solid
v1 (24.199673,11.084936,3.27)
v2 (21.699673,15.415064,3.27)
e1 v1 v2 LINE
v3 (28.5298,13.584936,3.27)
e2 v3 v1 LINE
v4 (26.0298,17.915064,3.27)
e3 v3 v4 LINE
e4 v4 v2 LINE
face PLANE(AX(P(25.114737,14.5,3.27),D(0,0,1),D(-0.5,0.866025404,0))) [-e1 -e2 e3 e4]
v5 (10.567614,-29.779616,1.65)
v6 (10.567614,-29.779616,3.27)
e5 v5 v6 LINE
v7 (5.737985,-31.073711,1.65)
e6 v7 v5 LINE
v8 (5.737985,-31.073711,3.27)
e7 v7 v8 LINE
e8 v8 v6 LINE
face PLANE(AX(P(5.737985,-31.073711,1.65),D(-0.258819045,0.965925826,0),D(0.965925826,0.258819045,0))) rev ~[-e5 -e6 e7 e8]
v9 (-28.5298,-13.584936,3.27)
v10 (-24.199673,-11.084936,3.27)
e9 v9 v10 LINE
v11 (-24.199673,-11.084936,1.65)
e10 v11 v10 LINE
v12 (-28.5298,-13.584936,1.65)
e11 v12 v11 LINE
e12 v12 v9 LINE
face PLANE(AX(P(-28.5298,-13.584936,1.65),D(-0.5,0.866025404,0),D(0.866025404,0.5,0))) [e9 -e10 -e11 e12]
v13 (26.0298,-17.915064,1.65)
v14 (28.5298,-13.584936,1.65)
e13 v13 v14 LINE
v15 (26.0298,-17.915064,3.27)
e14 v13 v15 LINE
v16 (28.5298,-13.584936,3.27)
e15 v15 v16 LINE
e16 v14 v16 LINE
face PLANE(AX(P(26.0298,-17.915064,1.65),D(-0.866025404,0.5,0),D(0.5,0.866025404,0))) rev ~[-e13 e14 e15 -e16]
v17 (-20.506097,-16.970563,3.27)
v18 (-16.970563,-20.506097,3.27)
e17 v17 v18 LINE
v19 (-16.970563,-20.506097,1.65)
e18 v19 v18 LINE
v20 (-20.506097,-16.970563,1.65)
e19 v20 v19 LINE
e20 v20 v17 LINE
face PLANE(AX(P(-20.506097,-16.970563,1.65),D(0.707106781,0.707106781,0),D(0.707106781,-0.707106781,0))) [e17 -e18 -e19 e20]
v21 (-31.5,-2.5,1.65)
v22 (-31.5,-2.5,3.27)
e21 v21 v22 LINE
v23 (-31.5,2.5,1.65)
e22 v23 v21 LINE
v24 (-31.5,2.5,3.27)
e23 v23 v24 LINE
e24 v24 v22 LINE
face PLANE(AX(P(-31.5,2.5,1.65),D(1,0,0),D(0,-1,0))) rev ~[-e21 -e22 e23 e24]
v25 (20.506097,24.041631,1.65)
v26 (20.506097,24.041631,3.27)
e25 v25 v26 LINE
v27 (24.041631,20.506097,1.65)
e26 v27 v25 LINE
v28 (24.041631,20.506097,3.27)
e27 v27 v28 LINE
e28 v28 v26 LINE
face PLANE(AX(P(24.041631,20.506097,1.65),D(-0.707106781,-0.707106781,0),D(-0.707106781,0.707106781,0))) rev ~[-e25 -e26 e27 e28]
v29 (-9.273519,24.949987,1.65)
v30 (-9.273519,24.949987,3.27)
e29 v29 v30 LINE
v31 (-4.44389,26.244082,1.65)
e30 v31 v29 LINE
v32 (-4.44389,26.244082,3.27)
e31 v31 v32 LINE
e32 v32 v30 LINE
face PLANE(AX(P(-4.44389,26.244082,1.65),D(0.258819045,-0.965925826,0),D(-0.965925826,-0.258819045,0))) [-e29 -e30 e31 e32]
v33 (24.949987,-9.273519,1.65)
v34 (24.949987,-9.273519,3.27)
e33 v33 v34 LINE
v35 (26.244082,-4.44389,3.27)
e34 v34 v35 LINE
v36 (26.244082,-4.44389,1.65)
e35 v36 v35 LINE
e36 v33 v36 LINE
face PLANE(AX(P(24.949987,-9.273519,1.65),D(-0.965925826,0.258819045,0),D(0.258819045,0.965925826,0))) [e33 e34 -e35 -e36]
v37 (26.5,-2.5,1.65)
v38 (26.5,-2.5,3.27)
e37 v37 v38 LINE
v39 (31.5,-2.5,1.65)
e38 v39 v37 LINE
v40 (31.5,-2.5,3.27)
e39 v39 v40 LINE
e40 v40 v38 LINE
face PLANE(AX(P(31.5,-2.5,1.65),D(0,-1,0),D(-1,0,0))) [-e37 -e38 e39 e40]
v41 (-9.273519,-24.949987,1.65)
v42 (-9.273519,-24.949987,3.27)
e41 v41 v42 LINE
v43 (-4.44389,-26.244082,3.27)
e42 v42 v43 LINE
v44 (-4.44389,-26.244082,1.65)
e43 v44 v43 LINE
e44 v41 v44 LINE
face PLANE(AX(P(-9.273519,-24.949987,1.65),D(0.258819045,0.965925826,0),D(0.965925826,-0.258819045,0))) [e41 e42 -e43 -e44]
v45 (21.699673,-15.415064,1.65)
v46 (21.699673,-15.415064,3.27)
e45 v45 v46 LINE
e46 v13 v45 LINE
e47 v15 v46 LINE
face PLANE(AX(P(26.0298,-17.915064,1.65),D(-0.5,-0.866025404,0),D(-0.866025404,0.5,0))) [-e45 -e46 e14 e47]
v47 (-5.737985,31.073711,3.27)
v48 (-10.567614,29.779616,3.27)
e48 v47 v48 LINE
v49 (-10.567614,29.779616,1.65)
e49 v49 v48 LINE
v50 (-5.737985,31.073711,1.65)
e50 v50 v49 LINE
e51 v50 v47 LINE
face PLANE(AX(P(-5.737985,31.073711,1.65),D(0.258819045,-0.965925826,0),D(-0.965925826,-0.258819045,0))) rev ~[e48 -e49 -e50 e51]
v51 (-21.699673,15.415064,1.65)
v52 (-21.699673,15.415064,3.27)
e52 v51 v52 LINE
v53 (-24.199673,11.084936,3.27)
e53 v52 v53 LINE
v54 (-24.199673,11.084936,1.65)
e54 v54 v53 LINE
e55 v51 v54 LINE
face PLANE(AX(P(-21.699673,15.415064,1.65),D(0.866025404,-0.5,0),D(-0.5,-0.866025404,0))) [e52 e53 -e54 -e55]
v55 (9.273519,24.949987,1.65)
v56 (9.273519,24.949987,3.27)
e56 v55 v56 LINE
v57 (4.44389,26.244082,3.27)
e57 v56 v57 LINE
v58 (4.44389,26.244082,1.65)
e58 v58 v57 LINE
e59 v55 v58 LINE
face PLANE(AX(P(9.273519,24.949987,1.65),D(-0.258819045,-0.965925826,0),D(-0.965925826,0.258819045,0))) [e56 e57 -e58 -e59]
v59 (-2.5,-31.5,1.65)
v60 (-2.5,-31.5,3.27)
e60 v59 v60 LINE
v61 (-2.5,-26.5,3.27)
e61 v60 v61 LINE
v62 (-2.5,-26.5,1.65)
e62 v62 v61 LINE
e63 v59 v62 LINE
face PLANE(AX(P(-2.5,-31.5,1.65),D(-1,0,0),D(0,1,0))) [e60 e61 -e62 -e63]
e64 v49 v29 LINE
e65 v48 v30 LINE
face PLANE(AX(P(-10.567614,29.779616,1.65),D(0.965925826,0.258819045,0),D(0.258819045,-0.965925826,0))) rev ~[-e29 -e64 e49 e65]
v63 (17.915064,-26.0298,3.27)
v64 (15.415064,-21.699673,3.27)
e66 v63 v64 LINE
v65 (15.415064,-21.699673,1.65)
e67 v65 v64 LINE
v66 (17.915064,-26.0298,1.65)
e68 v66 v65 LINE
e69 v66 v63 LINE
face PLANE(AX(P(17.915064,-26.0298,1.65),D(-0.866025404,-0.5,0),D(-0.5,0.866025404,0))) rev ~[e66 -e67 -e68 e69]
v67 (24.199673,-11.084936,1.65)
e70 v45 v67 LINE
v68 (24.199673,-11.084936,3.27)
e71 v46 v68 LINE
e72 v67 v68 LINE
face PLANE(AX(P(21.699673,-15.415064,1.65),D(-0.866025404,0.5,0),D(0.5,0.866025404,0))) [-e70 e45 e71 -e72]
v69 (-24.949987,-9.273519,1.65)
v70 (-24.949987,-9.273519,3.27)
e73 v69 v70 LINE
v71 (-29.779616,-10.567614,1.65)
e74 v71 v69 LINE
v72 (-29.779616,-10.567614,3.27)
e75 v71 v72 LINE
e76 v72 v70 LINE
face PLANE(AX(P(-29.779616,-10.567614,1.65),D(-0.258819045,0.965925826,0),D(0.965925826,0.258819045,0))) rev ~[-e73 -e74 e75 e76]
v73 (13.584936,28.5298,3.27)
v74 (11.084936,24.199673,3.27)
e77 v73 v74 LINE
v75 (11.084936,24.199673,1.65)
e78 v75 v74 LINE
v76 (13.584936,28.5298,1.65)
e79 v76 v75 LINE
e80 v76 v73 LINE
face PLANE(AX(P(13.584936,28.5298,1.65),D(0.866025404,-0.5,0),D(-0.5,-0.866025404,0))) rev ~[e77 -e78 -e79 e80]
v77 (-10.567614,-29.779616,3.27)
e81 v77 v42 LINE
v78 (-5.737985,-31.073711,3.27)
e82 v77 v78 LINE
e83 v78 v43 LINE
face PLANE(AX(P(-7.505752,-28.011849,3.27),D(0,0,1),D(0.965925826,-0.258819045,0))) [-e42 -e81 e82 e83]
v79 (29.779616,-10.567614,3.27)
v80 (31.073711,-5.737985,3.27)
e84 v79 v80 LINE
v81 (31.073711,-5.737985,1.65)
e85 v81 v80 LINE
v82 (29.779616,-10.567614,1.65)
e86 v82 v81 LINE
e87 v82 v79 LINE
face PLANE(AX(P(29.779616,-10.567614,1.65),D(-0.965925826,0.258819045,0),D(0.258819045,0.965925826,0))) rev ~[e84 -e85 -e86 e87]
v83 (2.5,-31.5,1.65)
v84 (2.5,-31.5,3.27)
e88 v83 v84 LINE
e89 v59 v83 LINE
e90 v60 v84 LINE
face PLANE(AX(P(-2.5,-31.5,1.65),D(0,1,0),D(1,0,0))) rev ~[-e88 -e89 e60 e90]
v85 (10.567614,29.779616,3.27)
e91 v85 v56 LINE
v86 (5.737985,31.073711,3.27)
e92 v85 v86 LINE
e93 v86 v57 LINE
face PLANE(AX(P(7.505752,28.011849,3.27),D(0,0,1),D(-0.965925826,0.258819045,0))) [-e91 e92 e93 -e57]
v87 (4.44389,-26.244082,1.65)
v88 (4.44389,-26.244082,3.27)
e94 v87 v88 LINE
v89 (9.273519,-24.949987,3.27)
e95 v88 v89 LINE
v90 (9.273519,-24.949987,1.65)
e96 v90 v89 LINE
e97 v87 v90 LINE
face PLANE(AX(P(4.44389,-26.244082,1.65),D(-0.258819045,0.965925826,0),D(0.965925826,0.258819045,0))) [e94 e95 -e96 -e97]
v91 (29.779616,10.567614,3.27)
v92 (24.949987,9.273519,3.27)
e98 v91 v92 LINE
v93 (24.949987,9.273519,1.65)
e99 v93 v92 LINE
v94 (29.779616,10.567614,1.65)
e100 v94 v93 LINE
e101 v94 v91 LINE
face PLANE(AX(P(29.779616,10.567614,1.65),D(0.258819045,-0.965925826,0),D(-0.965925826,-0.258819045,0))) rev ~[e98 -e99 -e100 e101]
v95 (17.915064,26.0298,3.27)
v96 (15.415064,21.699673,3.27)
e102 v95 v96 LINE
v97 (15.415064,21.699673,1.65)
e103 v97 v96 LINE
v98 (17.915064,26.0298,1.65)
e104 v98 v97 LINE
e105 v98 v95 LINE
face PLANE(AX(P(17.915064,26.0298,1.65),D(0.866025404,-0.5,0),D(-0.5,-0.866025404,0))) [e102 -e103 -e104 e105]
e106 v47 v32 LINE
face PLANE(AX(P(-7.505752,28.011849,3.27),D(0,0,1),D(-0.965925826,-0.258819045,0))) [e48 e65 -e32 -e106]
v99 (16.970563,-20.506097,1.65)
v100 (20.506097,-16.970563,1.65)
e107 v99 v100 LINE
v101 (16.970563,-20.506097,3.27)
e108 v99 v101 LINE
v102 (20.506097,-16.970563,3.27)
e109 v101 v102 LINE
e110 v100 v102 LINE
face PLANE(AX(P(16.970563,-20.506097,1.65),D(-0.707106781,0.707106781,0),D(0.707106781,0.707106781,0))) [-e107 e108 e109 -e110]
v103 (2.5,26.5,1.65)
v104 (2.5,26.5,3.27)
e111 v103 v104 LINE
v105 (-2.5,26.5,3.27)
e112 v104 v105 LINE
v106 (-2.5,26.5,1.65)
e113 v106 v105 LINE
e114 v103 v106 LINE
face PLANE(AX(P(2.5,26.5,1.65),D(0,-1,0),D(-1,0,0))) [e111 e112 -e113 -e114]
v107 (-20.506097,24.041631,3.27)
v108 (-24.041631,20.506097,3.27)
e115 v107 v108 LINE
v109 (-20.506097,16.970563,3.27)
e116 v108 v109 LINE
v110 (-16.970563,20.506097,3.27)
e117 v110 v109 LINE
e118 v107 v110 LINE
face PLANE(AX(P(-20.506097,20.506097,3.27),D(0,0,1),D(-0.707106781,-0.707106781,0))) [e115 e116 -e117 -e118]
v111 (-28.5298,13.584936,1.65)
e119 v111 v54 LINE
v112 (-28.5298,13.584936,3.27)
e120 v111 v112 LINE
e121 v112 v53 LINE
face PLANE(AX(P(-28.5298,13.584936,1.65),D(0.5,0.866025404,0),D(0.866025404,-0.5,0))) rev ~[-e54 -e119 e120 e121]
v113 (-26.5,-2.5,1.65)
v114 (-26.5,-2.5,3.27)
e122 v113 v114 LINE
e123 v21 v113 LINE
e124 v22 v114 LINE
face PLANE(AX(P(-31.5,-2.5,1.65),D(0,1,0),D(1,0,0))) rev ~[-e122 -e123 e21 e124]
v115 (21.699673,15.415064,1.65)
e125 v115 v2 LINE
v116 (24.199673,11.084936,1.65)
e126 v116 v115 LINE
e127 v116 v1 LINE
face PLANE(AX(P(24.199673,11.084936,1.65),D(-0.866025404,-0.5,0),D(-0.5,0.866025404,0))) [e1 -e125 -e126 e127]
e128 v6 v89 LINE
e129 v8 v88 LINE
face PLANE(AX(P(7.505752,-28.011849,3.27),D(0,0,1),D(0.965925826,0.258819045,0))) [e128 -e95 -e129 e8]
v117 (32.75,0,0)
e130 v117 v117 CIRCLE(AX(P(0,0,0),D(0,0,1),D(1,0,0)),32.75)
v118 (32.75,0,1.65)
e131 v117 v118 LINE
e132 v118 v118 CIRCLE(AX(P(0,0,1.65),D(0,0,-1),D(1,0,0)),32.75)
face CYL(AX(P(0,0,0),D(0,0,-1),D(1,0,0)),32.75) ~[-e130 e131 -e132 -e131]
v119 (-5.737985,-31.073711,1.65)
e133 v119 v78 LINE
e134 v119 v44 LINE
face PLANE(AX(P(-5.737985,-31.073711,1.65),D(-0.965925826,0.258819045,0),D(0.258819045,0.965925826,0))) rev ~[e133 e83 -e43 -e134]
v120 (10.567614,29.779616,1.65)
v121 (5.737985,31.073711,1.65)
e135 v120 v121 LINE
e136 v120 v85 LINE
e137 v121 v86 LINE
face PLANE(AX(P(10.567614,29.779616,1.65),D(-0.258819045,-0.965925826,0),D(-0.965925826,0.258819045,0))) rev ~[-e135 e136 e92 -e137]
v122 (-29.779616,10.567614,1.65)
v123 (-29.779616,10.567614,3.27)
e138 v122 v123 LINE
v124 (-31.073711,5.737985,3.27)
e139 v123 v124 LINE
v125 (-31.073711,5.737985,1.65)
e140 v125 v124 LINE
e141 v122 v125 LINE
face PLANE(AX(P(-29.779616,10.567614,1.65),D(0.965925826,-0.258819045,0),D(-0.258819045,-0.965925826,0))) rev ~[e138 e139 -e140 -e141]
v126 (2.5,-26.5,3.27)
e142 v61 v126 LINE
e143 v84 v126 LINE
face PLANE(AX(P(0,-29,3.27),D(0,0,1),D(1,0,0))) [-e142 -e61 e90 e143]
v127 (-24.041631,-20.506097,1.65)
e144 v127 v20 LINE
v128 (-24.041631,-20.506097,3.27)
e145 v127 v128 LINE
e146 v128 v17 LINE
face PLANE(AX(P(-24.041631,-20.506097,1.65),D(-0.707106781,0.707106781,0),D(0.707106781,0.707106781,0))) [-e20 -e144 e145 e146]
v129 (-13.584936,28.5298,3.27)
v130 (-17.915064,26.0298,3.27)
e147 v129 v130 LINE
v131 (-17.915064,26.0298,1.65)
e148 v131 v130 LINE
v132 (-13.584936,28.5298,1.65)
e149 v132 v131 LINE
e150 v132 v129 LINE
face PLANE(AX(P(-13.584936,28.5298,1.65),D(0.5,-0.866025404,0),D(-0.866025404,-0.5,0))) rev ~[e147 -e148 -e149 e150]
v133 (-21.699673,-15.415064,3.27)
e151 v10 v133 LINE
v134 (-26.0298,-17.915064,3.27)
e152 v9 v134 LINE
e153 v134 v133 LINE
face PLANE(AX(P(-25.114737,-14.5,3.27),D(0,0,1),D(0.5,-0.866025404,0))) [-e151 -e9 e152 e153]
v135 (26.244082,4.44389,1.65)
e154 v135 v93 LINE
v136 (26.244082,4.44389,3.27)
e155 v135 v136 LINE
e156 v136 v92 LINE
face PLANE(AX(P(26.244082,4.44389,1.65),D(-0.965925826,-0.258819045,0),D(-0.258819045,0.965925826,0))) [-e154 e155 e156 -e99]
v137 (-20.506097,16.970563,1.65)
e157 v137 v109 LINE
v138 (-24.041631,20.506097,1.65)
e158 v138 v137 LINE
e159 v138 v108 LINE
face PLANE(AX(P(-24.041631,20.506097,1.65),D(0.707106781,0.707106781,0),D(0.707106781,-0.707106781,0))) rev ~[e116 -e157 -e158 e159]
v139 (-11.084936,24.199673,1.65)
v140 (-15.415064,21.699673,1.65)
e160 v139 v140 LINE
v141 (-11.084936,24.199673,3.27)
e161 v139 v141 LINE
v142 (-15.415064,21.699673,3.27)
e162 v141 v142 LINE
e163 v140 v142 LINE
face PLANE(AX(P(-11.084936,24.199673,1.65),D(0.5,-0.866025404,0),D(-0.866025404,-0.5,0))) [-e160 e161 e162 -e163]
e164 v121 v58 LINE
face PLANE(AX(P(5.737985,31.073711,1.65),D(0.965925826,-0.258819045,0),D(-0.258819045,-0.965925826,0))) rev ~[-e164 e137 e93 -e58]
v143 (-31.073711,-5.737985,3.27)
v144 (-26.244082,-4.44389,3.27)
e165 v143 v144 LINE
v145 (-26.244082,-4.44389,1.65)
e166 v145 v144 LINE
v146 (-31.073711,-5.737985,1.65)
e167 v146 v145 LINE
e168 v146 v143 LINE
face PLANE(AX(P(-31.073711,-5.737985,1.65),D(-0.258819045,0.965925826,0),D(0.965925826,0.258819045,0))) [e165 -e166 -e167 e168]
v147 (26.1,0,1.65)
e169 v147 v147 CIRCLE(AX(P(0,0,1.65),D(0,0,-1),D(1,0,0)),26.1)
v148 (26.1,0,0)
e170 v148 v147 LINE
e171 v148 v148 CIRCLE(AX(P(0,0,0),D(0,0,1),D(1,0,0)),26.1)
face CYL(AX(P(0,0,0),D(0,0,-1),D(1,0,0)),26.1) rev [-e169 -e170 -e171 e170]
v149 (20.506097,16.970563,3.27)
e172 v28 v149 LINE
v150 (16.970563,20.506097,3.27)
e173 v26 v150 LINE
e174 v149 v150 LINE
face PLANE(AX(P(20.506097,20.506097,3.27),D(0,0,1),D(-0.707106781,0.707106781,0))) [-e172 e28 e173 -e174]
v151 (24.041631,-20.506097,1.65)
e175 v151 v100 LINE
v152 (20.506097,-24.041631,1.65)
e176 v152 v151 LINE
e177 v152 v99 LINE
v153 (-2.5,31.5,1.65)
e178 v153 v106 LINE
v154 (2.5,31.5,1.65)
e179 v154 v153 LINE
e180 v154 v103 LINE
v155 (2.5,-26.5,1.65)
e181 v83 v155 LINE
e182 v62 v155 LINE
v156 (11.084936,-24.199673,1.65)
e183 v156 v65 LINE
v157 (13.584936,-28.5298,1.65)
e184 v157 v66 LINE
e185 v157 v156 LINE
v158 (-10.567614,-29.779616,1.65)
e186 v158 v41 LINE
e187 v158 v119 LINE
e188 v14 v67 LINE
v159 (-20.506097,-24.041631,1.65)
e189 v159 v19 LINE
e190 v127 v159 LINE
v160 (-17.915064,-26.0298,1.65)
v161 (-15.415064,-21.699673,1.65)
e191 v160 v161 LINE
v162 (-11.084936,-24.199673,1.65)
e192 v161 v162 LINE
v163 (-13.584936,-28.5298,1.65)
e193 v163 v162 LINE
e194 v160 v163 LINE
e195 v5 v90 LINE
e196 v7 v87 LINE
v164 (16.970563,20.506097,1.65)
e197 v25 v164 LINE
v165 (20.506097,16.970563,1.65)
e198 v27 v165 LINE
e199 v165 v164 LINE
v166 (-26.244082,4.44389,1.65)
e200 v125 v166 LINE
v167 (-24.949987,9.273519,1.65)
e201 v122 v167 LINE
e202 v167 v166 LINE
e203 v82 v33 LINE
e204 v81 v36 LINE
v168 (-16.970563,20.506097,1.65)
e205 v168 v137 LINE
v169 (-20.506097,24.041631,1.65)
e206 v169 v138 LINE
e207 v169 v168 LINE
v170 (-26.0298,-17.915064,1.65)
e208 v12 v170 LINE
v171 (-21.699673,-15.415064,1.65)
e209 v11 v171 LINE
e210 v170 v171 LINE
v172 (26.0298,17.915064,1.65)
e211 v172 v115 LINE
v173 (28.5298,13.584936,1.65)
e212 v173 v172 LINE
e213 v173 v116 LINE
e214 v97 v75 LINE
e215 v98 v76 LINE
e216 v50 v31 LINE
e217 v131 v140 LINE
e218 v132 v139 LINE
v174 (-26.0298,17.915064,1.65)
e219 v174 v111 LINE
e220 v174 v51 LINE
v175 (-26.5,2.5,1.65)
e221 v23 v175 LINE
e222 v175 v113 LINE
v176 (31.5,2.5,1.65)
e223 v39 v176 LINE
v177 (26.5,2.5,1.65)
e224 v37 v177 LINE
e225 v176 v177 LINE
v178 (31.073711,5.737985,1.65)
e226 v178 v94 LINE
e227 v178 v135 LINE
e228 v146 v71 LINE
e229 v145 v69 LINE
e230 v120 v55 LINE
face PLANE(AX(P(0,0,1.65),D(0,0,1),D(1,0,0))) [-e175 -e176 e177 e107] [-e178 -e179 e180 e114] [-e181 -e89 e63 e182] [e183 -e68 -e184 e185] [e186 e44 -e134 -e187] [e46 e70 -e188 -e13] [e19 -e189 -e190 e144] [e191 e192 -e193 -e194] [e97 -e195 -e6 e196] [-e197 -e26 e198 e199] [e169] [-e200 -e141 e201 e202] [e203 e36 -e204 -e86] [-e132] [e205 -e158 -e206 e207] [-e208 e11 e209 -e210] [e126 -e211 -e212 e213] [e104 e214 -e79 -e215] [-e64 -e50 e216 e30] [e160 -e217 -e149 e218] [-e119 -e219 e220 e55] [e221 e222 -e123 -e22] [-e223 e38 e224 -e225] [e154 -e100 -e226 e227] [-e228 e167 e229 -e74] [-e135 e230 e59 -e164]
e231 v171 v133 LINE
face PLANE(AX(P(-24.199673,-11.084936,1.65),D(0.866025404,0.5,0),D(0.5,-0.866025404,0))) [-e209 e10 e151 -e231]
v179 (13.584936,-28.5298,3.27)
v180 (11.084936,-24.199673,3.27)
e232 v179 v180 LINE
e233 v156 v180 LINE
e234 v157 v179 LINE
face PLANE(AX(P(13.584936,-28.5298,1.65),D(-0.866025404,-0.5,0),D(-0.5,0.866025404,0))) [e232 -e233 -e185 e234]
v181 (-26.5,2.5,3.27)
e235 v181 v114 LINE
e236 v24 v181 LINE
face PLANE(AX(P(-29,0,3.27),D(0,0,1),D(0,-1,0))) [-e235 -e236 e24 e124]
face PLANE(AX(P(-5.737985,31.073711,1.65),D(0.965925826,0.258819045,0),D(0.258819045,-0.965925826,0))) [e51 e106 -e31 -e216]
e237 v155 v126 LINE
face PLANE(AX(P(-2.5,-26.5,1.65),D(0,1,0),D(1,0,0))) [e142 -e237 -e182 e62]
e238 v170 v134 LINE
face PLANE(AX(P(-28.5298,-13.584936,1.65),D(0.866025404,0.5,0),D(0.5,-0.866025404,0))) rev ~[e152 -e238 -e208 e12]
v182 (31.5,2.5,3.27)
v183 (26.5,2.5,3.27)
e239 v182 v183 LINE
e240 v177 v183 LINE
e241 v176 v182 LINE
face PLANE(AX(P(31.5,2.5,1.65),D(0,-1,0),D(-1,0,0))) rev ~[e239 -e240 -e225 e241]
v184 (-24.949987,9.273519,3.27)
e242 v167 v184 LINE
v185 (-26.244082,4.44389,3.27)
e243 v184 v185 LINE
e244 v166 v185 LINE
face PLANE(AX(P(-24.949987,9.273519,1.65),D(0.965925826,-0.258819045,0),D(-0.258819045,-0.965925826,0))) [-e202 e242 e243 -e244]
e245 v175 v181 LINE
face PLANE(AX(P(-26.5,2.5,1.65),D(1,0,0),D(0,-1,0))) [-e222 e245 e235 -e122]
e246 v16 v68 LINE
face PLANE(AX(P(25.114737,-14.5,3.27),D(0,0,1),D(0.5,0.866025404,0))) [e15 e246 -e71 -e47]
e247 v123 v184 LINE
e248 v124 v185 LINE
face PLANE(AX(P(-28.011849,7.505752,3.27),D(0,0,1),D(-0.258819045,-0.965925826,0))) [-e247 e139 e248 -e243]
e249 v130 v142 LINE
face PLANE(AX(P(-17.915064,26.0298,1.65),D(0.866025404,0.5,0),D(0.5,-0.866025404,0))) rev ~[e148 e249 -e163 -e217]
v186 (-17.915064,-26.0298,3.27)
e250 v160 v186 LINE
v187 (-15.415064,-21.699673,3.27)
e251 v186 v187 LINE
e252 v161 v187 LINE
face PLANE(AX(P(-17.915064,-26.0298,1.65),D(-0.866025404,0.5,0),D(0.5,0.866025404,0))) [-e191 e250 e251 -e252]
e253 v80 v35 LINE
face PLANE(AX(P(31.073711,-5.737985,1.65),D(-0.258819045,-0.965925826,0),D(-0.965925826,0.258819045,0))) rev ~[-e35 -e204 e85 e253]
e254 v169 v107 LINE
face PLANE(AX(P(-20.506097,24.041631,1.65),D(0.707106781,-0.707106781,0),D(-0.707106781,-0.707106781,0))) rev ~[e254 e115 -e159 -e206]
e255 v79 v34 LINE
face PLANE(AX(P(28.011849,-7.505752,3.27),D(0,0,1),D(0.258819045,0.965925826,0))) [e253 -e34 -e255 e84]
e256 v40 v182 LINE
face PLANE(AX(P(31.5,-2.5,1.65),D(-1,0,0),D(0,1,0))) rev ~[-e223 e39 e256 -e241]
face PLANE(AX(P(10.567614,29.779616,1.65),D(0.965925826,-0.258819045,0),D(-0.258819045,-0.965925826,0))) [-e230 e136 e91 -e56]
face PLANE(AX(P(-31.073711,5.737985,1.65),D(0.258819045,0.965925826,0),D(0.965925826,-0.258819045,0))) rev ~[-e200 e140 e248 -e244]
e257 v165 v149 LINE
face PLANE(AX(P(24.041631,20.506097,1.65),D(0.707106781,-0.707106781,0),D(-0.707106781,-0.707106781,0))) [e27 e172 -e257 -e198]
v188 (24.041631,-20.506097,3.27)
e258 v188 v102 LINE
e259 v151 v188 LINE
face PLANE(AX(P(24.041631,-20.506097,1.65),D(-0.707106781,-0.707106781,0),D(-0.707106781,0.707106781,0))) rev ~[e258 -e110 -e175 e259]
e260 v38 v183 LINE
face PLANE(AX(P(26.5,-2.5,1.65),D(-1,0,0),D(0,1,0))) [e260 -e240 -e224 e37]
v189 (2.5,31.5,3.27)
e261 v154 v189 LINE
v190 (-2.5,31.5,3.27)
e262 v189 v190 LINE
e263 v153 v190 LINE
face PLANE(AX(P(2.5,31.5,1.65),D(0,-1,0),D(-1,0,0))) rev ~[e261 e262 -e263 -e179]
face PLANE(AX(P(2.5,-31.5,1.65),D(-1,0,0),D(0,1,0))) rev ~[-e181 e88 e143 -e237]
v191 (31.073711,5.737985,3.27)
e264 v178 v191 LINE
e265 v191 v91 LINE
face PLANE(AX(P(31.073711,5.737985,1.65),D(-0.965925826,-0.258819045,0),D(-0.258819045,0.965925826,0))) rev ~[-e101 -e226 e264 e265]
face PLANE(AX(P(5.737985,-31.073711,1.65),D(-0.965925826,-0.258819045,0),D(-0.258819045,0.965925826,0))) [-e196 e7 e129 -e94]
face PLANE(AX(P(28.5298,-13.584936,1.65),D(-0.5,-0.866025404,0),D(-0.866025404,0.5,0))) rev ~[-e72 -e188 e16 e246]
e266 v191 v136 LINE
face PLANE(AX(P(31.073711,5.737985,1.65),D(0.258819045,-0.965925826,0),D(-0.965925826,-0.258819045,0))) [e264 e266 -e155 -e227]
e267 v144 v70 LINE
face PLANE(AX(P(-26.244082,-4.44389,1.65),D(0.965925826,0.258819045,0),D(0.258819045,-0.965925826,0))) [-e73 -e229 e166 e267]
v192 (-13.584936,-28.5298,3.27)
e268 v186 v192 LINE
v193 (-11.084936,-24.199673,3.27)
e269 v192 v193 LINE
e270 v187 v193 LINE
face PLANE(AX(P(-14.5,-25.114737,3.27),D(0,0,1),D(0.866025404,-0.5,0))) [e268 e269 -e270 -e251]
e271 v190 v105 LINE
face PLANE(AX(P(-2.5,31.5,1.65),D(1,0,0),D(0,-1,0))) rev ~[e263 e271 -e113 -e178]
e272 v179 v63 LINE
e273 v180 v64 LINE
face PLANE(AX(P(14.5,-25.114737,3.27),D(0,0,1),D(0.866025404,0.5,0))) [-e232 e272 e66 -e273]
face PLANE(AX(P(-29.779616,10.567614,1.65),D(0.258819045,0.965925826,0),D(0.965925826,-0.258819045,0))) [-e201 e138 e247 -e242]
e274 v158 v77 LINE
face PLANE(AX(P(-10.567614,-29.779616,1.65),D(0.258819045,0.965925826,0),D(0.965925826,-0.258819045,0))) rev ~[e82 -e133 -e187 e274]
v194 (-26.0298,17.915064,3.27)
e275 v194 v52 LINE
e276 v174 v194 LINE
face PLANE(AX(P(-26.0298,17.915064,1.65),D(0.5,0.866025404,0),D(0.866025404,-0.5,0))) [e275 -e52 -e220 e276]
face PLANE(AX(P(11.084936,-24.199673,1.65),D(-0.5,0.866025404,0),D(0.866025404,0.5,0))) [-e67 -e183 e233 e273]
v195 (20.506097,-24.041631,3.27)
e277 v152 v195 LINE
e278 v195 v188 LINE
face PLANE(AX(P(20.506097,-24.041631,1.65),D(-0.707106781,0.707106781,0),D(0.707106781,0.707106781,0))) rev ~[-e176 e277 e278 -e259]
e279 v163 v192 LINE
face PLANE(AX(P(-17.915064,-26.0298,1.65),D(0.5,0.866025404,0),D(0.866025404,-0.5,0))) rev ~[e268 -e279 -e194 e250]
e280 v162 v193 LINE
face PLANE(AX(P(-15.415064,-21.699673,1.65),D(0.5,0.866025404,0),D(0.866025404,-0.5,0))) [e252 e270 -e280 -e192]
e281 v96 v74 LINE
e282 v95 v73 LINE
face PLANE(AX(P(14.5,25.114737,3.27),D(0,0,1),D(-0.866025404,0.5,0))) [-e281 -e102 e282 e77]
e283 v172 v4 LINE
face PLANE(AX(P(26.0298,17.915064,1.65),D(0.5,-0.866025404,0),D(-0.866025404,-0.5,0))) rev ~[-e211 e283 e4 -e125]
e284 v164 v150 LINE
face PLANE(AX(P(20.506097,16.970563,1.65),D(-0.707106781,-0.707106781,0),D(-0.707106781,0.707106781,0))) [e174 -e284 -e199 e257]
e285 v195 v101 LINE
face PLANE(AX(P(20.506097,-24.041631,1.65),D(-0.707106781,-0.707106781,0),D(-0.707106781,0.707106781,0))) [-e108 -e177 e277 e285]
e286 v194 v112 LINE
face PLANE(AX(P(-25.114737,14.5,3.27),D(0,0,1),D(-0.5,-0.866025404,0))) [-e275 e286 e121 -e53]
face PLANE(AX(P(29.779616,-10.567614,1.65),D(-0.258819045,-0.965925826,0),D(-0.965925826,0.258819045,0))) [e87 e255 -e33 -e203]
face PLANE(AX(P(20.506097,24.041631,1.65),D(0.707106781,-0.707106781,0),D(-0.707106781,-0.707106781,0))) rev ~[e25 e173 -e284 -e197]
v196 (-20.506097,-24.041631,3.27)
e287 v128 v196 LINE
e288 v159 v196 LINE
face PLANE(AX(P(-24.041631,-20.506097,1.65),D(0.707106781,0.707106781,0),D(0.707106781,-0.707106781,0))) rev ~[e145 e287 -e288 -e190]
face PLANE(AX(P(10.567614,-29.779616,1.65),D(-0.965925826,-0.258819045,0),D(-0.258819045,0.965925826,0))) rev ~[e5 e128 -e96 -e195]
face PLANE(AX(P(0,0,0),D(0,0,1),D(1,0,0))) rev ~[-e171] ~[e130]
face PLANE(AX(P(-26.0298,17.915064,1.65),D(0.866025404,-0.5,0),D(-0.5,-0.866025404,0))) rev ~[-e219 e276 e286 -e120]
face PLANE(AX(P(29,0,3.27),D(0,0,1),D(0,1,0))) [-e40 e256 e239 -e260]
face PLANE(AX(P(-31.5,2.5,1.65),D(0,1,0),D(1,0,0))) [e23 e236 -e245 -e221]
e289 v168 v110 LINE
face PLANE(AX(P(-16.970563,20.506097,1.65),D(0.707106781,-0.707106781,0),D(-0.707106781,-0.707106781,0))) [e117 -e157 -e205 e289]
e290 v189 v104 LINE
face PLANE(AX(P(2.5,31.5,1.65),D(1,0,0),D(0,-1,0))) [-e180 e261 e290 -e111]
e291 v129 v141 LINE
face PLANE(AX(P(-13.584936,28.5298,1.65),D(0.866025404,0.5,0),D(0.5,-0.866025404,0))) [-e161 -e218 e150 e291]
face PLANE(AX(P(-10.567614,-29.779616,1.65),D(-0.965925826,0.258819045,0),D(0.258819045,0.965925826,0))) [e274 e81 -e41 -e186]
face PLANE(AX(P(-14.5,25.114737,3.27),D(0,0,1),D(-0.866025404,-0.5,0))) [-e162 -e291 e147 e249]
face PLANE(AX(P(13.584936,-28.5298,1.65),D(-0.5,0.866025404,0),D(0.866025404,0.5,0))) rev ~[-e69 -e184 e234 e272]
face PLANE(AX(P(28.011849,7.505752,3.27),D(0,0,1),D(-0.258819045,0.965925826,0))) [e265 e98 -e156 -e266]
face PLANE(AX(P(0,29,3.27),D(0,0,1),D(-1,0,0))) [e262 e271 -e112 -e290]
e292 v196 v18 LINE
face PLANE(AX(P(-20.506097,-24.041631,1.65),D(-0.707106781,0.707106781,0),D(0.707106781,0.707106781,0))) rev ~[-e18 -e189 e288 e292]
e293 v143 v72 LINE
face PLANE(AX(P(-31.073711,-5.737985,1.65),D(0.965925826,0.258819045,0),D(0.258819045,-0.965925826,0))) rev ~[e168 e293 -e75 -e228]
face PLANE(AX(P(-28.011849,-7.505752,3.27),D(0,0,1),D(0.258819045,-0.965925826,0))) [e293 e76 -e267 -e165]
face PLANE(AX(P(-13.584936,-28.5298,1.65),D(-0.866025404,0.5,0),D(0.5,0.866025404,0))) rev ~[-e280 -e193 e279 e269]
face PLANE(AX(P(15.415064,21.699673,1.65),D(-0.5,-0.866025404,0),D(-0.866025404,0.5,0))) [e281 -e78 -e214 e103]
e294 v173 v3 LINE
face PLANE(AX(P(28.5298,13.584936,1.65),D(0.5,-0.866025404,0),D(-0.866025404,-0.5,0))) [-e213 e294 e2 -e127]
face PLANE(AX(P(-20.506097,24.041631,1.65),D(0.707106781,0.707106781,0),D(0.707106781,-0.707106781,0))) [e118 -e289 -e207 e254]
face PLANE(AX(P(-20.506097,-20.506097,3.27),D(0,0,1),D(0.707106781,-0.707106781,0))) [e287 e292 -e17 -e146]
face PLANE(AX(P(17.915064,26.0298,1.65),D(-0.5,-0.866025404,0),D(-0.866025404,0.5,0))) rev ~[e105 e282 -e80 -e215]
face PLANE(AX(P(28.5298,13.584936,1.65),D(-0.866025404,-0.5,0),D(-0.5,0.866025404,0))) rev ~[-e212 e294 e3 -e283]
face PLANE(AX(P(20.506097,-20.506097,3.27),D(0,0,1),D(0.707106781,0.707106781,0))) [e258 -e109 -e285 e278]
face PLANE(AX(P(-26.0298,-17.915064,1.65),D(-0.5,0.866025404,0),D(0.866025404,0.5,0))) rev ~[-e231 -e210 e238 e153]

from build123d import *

# Parameters (mm, degrees)
F0_R     = 32.75
F0_R_2   = 26.1
F1_DEPTH = 1.65
F2_W     = 5
F2_H     = 5
F3_DEPTH = 1.62
F4_COUNT = 24


with BuildPart() as f1:
    # F0 (on Top) → F1 (new body)
    with BuildSketch(Plane.XY):
        Circle(F0_R)
        Circle(F0_R_2, mode=Mode.SUBTRACT)
    extrude(amount=F1_DEPTH)

    # F2 (on face) → F3 (join)
    with BuildSketch(Plane.XY.offset(1.65)):
        with Locations((0, -29)):
            Rectangle(F2_W, F2_H)
    extrude(amount=F3_DEPTH)

    # F4: F1 ×24 about axis
    f4_axis = Axis((0, 0, 1.65), (0, 0, 1))


with BuildPart() as f1_1:
    add(f1.part)
    for i in range(1, F4_COUNT):
        add(f1.part.rotate(f4_axis, i * 360 / F4_COUNT))


solid = f1_1.part
